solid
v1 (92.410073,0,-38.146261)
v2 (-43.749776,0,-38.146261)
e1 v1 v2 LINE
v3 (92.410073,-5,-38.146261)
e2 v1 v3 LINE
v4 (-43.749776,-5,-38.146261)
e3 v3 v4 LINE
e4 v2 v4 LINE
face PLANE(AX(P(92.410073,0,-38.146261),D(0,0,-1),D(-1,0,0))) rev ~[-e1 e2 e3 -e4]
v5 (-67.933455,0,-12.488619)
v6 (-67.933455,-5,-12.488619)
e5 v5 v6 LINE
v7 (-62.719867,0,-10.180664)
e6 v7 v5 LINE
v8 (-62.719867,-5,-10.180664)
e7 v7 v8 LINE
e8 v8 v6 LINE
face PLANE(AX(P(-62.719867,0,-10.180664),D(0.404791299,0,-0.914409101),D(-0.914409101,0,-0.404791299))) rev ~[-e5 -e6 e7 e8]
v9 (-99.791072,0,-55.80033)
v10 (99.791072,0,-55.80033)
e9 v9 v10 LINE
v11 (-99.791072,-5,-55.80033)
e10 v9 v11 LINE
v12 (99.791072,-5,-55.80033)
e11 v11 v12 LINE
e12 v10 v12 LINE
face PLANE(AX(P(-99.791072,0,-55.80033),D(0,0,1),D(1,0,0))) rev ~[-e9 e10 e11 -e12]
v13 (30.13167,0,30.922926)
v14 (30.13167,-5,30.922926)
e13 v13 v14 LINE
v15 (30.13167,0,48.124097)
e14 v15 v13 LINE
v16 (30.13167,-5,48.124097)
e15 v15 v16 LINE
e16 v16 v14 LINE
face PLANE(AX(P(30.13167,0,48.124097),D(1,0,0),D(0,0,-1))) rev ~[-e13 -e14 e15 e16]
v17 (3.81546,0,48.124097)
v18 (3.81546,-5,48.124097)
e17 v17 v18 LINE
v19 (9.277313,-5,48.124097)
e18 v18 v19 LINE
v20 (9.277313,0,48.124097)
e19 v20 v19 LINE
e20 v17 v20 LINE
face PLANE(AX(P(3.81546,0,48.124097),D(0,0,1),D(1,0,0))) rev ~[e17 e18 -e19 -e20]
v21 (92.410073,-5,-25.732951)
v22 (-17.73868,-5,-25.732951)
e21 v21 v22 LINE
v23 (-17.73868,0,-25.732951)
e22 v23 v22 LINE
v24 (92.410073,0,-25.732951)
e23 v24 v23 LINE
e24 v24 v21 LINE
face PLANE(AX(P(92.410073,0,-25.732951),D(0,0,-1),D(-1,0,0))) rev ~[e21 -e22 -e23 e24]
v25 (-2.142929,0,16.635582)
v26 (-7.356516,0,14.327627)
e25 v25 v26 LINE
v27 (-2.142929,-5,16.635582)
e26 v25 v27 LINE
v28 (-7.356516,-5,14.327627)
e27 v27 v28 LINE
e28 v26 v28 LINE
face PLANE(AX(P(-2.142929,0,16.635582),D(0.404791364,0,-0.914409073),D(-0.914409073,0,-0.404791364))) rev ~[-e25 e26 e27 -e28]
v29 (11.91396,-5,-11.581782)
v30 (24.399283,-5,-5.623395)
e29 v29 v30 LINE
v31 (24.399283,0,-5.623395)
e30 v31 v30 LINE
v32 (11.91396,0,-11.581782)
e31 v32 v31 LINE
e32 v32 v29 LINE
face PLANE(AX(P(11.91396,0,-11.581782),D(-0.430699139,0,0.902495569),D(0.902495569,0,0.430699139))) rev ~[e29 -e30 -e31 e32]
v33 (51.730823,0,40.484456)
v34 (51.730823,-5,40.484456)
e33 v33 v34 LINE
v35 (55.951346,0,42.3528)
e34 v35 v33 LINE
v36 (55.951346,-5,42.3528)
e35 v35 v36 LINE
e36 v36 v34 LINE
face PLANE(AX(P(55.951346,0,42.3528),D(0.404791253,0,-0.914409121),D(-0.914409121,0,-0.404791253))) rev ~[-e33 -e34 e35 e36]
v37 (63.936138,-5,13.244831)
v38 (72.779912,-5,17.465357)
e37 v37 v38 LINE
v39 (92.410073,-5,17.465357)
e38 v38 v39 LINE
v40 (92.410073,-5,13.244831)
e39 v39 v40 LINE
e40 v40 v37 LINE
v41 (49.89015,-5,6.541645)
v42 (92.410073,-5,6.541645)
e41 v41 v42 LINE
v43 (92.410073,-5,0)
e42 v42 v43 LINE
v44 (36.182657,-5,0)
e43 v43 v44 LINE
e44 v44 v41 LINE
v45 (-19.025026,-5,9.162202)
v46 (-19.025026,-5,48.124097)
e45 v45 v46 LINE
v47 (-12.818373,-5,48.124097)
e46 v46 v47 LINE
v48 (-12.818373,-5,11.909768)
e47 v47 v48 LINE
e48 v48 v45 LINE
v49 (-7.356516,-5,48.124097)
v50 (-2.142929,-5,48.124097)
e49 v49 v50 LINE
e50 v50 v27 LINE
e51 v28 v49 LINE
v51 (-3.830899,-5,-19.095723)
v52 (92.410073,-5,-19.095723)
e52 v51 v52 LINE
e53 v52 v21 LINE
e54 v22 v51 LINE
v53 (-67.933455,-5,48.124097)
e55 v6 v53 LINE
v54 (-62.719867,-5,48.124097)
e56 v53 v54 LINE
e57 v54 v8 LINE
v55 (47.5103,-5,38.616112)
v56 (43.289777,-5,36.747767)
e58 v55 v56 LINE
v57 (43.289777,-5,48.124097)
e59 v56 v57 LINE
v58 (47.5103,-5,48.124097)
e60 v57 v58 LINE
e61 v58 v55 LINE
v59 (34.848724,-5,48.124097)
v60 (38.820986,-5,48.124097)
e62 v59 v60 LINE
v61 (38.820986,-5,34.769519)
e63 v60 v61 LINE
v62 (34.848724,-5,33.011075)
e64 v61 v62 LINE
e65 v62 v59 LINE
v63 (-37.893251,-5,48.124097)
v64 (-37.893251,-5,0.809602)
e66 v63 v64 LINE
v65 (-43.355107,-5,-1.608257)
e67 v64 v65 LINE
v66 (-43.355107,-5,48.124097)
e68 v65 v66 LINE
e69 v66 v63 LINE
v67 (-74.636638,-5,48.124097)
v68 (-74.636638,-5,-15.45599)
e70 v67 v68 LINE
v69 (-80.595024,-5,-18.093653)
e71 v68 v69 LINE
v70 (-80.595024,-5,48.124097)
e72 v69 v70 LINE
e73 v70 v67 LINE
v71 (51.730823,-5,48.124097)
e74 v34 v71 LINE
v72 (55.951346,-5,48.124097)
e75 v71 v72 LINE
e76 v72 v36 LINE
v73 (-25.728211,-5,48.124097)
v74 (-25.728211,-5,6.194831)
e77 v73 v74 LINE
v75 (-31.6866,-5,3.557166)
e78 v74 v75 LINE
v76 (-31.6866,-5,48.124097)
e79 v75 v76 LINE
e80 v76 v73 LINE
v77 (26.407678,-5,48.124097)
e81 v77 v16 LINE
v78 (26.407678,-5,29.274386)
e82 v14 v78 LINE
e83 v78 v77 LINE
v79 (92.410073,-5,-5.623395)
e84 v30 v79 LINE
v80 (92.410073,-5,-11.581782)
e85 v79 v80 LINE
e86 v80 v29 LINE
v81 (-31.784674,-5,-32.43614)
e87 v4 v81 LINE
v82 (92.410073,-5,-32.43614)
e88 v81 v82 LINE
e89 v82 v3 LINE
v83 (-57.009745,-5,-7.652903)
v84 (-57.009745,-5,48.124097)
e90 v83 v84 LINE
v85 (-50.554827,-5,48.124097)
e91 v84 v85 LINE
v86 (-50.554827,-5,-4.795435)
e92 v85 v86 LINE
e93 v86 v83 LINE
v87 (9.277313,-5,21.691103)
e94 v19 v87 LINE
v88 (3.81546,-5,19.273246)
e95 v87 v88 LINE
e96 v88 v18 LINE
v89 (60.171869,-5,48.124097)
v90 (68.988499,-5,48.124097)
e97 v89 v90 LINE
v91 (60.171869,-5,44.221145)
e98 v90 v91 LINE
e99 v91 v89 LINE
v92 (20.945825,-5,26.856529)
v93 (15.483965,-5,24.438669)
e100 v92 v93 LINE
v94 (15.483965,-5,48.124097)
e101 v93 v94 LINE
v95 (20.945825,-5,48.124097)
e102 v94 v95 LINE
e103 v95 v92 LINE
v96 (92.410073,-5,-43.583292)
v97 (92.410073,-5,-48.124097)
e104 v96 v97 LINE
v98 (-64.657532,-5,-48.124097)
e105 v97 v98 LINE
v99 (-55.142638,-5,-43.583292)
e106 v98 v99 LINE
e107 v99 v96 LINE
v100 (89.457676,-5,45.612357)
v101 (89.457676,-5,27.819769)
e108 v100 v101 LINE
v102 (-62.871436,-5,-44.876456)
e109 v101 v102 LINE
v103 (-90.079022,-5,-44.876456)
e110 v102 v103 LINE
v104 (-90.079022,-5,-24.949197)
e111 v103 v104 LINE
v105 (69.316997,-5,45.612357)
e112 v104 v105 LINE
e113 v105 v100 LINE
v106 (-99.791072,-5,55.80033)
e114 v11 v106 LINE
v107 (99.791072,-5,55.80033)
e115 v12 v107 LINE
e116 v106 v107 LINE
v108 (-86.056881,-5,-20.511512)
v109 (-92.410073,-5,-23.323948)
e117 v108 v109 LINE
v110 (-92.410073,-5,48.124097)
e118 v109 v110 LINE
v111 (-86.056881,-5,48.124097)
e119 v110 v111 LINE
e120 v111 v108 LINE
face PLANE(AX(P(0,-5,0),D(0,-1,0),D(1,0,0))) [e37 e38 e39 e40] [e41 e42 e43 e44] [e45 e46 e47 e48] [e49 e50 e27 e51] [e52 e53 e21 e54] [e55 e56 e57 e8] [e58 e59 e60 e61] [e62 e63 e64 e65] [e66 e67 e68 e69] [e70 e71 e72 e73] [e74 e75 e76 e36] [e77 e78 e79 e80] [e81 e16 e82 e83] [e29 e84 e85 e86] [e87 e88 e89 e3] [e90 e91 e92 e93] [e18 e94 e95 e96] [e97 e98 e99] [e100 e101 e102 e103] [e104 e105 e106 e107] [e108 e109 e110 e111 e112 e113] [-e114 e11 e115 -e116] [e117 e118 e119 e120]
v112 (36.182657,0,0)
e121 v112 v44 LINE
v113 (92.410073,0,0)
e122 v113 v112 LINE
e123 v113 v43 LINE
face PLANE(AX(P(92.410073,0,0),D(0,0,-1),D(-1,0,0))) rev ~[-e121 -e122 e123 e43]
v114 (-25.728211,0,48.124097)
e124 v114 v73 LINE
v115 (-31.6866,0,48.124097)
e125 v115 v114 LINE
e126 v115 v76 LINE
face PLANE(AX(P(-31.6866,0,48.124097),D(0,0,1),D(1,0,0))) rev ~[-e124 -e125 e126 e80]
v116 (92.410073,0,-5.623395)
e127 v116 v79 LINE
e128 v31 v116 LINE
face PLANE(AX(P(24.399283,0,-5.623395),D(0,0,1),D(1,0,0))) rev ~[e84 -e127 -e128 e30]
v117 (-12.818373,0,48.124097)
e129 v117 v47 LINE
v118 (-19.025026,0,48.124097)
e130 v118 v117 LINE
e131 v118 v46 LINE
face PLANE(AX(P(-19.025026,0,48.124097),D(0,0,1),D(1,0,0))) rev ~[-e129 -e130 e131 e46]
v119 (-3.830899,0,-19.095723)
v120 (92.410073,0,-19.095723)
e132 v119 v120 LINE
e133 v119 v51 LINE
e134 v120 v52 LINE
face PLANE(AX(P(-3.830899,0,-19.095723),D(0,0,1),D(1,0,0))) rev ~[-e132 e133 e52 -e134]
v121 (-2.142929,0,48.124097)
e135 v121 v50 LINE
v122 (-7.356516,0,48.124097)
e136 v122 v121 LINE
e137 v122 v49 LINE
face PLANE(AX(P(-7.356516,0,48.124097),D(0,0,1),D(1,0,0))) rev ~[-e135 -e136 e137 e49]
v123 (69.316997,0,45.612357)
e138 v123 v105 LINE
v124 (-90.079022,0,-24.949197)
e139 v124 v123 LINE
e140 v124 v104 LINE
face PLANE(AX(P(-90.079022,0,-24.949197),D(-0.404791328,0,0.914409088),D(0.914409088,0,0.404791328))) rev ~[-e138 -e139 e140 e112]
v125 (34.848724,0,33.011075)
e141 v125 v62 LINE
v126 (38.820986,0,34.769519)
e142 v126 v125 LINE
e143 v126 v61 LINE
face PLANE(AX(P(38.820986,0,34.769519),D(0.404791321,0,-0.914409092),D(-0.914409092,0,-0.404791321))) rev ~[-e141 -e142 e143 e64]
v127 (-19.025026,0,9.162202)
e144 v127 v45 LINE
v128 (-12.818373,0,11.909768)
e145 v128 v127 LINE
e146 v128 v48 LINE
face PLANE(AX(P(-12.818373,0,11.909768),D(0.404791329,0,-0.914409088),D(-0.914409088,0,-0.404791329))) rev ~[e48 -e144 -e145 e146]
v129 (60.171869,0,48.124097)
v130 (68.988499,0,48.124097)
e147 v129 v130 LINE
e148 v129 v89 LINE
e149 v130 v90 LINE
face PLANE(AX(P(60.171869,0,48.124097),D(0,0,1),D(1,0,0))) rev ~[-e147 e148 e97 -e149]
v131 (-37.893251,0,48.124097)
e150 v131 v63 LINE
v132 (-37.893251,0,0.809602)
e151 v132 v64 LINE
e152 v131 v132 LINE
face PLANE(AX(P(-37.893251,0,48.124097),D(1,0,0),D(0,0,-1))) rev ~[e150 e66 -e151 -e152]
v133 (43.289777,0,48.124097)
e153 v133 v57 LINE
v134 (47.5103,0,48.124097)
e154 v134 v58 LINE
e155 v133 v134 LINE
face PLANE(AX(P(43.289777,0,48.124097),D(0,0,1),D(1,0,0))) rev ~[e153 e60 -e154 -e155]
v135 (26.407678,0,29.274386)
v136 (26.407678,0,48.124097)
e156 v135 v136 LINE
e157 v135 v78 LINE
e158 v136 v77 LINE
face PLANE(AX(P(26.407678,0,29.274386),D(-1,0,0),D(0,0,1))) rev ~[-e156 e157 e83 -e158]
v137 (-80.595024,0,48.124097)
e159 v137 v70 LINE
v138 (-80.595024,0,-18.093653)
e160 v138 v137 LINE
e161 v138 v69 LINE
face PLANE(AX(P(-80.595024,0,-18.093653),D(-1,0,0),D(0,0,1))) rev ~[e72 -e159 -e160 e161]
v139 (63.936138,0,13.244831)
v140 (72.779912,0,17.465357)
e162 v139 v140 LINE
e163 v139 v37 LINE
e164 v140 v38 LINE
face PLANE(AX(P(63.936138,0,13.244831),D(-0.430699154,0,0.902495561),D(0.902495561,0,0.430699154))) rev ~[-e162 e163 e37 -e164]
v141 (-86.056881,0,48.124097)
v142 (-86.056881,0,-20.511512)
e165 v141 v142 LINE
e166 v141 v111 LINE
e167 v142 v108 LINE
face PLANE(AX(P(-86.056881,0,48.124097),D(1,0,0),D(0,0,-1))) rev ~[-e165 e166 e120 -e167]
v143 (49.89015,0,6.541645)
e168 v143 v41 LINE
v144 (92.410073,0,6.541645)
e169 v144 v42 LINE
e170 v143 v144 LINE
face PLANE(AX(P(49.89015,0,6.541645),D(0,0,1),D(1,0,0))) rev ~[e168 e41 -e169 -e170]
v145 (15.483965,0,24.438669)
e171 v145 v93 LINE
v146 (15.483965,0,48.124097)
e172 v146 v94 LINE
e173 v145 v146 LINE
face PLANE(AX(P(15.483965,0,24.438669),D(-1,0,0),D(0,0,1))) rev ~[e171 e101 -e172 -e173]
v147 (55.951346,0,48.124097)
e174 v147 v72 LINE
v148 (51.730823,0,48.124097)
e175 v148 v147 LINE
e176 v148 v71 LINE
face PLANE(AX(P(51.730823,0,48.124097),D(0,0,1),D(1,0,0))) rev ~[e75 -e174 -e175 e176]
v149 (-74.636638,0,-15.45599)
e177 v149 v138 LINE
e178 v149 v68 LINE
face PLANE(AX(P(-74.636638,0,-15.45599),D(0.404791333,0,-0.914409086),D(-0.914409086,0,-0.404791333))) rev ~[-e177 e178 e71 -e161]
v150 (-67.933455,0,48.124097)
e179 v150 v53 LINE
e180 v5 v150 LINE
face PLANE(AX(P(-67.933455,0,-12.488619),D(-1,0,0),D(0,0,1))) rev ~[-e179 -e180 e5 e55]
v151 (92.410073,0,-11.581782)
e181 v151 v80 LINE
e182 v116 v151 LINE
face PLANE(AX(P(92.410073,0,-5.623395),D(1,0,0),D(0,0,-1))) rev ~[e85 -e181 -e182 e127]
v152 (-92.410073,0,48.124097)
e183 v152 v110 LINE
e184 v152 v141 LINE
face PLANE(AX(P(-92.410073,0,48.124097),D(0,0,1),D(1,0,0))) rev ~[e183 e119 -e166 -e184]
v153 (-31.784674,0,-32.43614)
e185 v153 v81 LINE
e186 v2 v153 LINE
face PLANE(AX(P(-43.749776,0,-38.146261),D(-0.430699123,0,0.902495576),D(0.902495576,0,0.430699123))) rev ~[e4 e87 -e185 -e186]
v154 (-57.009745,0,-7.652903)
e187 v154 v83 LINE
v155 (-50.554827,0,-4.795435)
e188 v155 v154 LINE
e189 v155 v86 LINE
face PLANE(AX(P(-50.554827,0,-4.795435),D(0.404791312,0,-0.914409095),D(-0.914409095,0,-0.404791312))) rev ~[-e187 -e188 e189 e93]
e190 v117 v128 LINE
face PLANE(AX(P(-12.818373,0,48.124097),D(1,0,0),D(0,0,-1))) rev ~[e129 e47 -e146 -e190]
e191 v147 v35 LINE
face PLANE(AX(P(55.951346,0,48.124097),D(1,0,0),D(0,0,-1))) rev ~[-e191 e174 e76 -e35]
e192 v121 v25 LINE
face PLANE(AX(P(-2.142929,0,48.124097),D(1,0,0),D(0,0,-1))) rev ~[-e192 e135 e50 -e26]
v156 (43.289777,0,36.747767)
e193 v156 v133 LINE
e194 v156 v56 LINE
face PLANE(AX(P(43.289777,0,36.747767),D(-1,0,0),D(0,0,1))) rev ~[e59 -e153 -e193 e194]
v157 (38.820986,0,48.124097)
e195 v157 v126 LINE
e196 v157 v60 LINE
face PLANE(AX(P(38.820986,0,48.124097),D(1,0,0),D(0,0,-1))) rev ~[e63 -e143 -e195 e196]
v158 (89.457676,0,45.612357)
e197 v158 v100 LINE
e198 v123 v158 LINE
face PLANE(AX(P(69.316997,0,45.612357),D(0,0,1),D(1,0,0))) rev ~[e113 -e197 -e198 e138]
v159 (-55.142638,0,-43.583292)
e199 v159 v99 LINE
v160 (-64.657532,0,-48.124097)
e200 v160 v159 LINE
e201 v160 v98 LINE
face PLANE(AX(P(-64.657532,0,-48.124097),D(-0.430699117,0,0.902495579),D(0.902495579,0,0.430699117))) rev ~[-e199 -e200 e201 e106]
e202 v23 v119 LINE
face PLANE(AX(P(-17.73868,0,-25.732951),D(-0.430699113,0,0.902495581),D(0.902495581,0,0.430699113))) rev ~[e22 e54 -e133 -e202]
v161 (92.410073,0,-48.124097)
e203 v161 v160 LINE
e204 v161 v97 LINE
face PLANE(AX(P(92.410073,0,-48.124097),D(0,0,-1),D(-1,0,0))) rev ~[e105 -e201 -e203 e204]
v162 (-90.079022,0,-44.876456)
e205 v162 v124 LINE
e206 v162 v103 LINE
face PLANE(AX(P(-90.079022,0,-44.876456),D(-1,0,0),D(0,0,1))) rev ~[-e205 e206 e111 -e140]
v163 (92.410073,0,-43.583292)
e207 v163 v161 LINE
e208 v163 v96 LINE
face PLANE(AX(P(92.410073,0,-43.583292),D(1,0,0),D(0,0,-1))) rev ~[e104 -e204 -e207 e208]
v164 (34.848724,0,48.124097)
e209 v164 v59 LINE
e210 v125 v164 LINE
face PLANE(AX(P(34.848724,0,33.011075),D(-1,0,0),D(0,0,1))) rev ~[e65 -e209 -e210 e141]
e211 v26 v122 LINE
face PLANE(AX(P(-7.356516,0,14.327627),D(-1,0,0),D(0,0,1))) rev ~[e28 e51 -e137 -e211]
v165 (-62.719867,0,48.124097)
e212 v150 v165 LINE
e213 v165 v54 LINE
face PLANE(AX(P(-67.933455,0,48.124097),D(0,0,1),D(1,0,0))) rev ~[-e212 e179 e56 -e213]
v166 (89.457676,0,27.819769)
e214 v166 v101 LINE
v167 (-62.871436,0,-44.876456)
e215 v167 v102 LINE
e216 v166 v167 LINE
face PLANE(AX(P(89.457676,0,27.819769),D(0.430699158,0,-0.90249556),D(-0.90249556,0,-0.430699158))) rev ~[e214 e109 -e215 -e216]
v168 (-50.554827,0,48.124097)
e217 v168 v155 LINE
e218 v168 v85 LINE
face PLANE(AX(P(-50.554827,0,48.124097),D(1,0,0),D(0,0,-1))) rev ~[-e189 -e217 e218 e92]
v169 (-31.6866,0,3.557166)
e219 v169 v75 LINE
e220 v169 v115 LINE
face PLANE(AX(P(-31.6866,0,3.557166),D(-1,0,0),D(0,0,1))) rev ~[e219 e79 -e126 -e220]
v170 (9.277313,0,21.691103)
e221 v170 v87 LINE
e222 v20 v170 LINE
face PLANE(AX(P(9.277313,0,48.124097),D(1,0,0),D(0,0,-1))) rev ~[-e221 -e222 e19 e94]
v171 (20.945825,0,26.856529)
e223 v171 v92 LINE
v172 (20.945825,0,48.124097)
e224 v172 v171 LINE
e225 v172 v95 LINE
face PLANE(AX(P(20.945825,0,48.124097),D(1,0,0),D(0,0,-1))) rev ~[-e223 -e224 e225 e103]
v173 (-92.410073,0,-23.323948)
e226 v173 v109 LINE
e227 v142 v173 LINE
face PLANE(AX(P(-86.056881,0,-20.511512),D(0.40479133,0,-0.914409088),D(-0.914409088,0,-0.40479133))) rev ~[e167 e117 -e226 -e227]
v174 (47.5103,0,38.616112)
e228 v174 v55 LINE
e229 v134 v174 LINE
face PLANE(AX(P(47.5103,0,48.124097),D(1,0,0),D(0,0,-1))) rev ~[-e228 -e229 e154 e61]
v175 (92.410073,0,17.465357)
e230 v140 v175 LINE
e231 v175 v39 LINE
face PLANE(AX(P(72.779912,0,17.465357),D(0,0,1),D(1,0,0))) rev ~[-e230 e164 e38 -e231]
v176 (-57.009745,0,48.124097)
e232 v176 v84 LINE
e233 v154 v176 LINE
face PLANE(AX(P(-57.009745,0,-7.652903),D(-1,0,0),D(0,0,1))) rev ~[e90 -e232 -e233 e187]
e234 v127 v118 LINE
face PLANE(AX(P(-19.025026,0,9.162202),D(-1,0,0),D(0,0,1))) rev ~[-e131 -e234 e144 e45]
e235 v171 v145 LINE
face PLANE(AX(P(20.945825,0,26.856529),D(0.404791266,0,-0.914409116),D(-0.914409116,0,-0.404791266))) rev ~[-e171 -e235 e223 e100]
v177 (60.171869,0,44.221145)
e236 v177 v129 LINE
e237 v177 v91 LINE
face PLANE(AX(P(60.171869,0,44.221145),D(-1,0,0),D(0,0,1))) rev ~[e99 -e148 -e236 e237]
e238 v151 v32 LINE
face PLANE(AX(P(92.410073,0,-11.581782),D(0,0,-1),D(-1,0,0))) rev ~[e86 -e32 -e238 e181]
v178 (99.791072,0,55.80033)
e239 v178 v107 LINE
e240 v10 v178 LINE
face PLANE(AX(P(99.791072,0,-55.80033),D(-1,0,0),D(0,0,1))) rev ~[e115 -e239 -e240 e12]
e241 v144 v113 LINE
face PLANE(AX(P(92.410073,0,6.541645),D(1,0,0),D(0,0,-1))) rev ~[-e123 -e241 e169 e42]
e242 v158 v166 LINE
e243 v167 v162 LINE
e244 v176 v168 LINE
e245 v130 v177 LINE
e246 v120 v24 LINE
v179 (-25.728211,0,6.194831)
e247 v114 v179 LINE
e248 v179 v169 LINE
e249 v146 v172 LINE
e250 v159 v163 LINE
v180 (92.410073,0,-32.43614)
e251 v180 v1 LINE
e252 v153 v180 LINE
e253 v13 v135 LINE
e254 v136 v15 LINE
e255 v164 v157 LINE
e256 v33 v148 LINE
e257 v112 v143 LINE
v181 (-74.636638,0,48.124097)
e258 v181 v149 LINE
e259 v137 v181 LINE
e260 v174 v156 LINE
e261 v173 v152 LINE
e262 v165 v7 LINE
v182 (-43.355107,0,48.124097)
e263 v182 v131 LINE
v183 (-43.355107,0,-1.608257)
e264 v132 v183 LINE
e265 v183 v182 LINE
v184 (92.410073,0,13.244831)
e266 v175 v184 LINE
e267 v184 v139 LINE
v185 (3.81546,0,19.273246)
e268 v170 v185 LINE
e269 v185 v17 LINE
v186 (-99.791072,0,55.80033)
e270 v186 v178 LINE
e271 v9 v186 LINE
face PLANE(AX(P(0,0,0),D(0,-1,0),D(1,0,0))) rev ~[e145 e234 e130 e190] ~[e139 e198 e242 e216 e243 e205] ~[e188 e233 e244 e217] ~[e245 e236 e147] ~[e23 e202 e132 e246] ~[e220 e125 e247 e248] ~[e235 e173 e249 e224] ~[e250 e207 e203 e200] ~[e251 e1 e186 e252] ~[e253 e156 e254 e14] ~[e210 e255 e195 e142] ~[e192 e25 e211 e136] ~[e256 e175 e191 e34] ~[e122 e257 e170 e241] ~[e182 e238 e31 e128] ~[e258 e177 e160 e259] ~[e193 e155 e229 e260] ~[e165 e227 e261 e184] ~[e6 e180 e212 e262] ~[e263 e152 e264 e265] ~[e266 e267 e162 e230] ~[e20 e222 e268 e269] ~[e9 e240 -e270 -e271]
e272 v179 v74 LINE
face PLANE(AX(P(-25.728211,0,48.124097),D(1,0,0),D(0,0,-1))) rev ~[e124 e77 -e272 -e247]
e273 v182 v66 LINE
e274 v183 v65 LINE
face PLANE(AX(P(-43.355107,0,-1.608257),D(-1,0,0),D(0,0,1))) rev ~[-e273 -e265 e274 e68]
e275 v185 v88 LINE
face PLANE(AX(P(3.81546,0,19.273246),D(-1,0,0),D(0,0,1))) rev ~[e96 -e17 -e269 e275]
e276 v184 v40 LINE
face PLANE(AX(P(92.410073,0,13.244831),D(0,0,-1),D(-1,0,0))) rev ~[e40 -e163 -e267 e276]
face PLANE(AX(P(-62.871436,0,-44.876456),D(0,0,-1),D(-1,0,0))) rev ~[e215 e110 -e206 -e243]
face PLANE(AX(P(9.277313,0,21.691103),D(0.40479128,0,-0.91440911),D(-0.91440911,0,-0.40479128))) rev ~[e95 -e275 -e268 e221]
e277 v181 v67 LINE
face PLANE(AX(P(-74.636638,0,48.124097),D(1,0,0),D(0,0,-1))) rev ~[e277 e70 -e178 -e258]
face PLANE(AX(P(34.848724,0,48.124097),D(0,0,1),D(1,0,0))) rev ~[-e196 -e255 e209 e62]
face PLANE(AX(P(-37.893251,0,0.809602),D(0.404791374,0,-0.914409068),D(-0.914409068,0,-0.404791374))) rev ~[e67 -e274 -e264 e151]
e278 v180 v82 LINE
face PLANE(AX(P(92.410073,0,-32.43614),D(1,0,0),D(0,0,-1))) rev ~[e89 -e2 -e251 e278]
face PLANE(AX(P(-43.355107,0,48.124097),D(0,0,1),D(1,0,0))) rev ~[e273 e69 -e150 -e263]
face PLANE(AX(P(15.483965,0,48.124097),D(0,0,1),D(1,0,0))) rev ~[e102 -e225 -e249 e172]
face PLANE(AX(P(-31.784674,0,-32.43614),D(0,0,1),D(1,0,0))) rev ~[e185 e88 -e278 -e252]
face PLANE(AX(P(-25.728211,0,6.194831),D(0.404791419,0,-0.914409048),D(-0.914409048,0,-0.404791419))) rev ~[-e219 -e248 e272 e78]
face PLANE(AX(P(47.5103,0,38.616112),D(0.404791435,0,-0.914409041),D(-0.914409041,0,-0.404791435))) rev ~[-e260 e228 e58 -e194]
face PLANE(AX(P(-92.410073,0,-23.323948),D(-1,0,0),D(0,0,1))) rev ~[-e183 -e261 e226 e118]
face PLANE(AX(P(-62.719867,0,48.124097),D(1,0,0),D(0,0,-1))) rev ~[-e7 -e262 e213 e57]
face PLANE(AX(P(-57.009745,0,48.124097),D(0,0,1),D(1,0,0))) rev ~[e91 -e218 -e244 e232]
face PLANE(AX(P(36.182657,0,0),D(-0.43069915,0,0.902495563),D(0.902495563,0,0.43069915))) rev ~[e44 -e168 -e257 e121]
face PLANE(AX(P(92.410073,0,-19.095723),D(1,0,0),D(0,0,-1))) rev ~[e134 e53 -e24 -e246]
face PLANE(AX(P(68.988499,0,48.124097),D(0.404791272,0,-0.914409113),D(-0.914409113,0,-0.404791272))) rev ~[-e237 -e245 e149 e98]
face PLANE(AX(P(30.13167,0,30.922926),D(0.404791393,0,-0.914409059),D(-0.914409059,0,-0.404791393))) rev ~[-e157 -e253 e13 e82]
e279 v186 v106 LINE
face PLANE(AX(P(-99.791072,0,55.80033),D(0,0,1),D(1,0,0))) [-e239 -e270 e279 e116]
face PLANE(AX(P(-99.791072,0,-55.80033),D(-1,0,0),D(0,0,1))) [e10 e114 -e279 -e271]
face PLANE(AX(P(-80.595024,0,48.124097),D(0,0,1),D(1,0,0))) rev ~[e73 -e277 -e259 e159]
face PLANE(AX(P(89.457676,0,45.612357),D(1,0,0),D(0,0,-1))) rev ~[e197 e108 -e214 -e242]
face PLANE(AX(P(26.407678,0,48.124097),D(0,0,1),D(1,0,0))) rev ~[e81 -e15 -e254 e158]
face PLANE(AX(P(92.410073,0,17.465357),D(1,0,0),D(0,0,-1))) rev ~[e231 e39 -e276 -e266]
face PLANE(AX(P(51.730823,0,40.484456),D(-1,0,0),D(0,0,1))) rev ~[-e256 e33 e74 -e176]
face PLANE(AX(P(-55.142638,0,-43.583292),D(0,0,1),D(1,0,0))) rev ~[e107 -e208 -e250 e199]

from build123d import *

# Parameters (mm, degrees)
F0_W     = 199.582144
F0_H     = 111.60066
F1_DEPTH = 5


with BuildPart() as f1:
    # F0 (on Front) → F1 (new body)
    with BuildSketch(Plane.XZ):
        Rectangle(F0_W, F0_H)
        Polygon((92.410073, -48.124097), (-64.657532, -48.124097), (-55.142638, -43.583292), (92.410073, -43.583292), align=None, mode=Mode.SUBTRACT)
        Polygon((92.410073, -32.43614), (92.410073, -38.146261), (-43.749776, -38.146261), (-31.784674, -32.43614), align=None, mode=Mode.SUBTRACT)
        Polygon((92.410073, -19.095723), (92.410073, -25.732951), (-17.73868, -25.732951), (-3.830899, -19.095723), align=None, mode=Mode.SUBTRACT)
        Polygon((92.410073, -5.623395), (92.410073, -11.581782), (11.91396, -11.581782), (24.399283, -5.623395), align=None, mode=Mode.SUBTRACT)
        Polygon((-92.410073, -23.323948), (-92.410073, 48.124097), (-86.056881, 48.124097), (-86.056881, -20.511512), align=None, mode=Mode.SUBTRACT)
        Polygon((-80.595024, -18.093653), (-80.595024, 48.124097), (-74.636638, 48.124097), (-74.636638, -15.45599), align=None, mode=Mode.SUBTRACT)
        Polygon((-67.933455, -12.488619), (-67.933455, 48.124097), (-62.719867, 48.124097), (-62.719867, -10.180664), align=None, mode=Mode.SUBTRACT)
        Polygon((-57.009745, -7.652903), (-57.009745, 48.124097), (-50.554827, 48.124097), (-50.554827, -4.795435), align=None, mode=Mode.SUBTRACT)
        Polygon((-90.079022, -44.876456), (-90.079022, -24.949197), (69.316997, 45.612357), (89.457676, 45.612357), (89.457676, 27.819769), (-62.871436, -44.876456), align=None, mode=Mode.SUBTRACT)
        Polygon((-43.355107, -1.608257), (-43.355107, 48.124097), (-37.893251, 48.124097), (-37.893251, 0.809602), align=None, mode=Mode.SUBTRACT)
        Polygon((-31.6866, 3.557166), (-31.6866, 48.124097), (-25.728211, 48.124097), (-25.728211, 6.194831), align=None, mode=Mode.SUBTRACT)
        Polygon((-19.025026, 9.162202), (-19.025026, 48.124097), (-12.818373, 48.124097), (-12.818373, 11.909768), align=None, mode=Mode.SUBTRACT)
        Polygon((-7.356516, 14.327627), (-7.356516, 48.124097), (-2.142929, 48.124097), (-2.142929, 16.635582), align=None, mode=Mode.SUBTRACT)
        Polygon((92.410073, 6.541645), (92.410073, 0), (36.182657, 0), (49.89015, 6.541645), align=None, mode=Mode.SUBTRACT)
        Polygon((92.410073, 17.465357), (92.410073, 13.244831), (63.936138, 13.244831), (72.779912, 17.465357), align=None, mode=Mode.SUBTRACT)
        Polygon((3.81546, 19.273246), (3.81546, 48.124097), (9.277313, 48.124097), (9.277313, 21.691103), align=None, mode=Mode.SUBTRACT)
        Polygon((15.483965, 24.438669), (15.483965, 48.124097), (20.945825, 48.124097), (20.945825, 26.856529), align=None, mode=Mode.SUBTRACT)
        Polygon((26.407678, 29.274386), (26.407678, 48.124097), (30.13167, 48.124097), (30.13167, 30.922926), align=None, mode=Mode.SUBTRACT)
        Polygon((34.848724, 33.011075), (34.848724, 48.124097), (38.820986, 48.124097), (38.820986, 34.769519), align=None, mode=Mode.SUBTRACT)
        Polygon((43.289777, 36.747767), (43.289777, 48.124097), (47.5103, 48.124097), (47.5103, 38.616112), align=None, mode=Mode.SUBTRACT)
        Polygon((51.730823, 40.484456), (51.730823, 48.124097), (55.951346, 48.124097), (55.951346, 42.3528), align=None, mode=Mode.SUBTRACT)
        Polygon((60.171869, 44.221145), (60.171869, 48.124097), (68.988499, 48.124097), align=None, mode=Mode.SUBTRACT)
    extrude(amount=F1_DEPTH)


solid = f1.part
